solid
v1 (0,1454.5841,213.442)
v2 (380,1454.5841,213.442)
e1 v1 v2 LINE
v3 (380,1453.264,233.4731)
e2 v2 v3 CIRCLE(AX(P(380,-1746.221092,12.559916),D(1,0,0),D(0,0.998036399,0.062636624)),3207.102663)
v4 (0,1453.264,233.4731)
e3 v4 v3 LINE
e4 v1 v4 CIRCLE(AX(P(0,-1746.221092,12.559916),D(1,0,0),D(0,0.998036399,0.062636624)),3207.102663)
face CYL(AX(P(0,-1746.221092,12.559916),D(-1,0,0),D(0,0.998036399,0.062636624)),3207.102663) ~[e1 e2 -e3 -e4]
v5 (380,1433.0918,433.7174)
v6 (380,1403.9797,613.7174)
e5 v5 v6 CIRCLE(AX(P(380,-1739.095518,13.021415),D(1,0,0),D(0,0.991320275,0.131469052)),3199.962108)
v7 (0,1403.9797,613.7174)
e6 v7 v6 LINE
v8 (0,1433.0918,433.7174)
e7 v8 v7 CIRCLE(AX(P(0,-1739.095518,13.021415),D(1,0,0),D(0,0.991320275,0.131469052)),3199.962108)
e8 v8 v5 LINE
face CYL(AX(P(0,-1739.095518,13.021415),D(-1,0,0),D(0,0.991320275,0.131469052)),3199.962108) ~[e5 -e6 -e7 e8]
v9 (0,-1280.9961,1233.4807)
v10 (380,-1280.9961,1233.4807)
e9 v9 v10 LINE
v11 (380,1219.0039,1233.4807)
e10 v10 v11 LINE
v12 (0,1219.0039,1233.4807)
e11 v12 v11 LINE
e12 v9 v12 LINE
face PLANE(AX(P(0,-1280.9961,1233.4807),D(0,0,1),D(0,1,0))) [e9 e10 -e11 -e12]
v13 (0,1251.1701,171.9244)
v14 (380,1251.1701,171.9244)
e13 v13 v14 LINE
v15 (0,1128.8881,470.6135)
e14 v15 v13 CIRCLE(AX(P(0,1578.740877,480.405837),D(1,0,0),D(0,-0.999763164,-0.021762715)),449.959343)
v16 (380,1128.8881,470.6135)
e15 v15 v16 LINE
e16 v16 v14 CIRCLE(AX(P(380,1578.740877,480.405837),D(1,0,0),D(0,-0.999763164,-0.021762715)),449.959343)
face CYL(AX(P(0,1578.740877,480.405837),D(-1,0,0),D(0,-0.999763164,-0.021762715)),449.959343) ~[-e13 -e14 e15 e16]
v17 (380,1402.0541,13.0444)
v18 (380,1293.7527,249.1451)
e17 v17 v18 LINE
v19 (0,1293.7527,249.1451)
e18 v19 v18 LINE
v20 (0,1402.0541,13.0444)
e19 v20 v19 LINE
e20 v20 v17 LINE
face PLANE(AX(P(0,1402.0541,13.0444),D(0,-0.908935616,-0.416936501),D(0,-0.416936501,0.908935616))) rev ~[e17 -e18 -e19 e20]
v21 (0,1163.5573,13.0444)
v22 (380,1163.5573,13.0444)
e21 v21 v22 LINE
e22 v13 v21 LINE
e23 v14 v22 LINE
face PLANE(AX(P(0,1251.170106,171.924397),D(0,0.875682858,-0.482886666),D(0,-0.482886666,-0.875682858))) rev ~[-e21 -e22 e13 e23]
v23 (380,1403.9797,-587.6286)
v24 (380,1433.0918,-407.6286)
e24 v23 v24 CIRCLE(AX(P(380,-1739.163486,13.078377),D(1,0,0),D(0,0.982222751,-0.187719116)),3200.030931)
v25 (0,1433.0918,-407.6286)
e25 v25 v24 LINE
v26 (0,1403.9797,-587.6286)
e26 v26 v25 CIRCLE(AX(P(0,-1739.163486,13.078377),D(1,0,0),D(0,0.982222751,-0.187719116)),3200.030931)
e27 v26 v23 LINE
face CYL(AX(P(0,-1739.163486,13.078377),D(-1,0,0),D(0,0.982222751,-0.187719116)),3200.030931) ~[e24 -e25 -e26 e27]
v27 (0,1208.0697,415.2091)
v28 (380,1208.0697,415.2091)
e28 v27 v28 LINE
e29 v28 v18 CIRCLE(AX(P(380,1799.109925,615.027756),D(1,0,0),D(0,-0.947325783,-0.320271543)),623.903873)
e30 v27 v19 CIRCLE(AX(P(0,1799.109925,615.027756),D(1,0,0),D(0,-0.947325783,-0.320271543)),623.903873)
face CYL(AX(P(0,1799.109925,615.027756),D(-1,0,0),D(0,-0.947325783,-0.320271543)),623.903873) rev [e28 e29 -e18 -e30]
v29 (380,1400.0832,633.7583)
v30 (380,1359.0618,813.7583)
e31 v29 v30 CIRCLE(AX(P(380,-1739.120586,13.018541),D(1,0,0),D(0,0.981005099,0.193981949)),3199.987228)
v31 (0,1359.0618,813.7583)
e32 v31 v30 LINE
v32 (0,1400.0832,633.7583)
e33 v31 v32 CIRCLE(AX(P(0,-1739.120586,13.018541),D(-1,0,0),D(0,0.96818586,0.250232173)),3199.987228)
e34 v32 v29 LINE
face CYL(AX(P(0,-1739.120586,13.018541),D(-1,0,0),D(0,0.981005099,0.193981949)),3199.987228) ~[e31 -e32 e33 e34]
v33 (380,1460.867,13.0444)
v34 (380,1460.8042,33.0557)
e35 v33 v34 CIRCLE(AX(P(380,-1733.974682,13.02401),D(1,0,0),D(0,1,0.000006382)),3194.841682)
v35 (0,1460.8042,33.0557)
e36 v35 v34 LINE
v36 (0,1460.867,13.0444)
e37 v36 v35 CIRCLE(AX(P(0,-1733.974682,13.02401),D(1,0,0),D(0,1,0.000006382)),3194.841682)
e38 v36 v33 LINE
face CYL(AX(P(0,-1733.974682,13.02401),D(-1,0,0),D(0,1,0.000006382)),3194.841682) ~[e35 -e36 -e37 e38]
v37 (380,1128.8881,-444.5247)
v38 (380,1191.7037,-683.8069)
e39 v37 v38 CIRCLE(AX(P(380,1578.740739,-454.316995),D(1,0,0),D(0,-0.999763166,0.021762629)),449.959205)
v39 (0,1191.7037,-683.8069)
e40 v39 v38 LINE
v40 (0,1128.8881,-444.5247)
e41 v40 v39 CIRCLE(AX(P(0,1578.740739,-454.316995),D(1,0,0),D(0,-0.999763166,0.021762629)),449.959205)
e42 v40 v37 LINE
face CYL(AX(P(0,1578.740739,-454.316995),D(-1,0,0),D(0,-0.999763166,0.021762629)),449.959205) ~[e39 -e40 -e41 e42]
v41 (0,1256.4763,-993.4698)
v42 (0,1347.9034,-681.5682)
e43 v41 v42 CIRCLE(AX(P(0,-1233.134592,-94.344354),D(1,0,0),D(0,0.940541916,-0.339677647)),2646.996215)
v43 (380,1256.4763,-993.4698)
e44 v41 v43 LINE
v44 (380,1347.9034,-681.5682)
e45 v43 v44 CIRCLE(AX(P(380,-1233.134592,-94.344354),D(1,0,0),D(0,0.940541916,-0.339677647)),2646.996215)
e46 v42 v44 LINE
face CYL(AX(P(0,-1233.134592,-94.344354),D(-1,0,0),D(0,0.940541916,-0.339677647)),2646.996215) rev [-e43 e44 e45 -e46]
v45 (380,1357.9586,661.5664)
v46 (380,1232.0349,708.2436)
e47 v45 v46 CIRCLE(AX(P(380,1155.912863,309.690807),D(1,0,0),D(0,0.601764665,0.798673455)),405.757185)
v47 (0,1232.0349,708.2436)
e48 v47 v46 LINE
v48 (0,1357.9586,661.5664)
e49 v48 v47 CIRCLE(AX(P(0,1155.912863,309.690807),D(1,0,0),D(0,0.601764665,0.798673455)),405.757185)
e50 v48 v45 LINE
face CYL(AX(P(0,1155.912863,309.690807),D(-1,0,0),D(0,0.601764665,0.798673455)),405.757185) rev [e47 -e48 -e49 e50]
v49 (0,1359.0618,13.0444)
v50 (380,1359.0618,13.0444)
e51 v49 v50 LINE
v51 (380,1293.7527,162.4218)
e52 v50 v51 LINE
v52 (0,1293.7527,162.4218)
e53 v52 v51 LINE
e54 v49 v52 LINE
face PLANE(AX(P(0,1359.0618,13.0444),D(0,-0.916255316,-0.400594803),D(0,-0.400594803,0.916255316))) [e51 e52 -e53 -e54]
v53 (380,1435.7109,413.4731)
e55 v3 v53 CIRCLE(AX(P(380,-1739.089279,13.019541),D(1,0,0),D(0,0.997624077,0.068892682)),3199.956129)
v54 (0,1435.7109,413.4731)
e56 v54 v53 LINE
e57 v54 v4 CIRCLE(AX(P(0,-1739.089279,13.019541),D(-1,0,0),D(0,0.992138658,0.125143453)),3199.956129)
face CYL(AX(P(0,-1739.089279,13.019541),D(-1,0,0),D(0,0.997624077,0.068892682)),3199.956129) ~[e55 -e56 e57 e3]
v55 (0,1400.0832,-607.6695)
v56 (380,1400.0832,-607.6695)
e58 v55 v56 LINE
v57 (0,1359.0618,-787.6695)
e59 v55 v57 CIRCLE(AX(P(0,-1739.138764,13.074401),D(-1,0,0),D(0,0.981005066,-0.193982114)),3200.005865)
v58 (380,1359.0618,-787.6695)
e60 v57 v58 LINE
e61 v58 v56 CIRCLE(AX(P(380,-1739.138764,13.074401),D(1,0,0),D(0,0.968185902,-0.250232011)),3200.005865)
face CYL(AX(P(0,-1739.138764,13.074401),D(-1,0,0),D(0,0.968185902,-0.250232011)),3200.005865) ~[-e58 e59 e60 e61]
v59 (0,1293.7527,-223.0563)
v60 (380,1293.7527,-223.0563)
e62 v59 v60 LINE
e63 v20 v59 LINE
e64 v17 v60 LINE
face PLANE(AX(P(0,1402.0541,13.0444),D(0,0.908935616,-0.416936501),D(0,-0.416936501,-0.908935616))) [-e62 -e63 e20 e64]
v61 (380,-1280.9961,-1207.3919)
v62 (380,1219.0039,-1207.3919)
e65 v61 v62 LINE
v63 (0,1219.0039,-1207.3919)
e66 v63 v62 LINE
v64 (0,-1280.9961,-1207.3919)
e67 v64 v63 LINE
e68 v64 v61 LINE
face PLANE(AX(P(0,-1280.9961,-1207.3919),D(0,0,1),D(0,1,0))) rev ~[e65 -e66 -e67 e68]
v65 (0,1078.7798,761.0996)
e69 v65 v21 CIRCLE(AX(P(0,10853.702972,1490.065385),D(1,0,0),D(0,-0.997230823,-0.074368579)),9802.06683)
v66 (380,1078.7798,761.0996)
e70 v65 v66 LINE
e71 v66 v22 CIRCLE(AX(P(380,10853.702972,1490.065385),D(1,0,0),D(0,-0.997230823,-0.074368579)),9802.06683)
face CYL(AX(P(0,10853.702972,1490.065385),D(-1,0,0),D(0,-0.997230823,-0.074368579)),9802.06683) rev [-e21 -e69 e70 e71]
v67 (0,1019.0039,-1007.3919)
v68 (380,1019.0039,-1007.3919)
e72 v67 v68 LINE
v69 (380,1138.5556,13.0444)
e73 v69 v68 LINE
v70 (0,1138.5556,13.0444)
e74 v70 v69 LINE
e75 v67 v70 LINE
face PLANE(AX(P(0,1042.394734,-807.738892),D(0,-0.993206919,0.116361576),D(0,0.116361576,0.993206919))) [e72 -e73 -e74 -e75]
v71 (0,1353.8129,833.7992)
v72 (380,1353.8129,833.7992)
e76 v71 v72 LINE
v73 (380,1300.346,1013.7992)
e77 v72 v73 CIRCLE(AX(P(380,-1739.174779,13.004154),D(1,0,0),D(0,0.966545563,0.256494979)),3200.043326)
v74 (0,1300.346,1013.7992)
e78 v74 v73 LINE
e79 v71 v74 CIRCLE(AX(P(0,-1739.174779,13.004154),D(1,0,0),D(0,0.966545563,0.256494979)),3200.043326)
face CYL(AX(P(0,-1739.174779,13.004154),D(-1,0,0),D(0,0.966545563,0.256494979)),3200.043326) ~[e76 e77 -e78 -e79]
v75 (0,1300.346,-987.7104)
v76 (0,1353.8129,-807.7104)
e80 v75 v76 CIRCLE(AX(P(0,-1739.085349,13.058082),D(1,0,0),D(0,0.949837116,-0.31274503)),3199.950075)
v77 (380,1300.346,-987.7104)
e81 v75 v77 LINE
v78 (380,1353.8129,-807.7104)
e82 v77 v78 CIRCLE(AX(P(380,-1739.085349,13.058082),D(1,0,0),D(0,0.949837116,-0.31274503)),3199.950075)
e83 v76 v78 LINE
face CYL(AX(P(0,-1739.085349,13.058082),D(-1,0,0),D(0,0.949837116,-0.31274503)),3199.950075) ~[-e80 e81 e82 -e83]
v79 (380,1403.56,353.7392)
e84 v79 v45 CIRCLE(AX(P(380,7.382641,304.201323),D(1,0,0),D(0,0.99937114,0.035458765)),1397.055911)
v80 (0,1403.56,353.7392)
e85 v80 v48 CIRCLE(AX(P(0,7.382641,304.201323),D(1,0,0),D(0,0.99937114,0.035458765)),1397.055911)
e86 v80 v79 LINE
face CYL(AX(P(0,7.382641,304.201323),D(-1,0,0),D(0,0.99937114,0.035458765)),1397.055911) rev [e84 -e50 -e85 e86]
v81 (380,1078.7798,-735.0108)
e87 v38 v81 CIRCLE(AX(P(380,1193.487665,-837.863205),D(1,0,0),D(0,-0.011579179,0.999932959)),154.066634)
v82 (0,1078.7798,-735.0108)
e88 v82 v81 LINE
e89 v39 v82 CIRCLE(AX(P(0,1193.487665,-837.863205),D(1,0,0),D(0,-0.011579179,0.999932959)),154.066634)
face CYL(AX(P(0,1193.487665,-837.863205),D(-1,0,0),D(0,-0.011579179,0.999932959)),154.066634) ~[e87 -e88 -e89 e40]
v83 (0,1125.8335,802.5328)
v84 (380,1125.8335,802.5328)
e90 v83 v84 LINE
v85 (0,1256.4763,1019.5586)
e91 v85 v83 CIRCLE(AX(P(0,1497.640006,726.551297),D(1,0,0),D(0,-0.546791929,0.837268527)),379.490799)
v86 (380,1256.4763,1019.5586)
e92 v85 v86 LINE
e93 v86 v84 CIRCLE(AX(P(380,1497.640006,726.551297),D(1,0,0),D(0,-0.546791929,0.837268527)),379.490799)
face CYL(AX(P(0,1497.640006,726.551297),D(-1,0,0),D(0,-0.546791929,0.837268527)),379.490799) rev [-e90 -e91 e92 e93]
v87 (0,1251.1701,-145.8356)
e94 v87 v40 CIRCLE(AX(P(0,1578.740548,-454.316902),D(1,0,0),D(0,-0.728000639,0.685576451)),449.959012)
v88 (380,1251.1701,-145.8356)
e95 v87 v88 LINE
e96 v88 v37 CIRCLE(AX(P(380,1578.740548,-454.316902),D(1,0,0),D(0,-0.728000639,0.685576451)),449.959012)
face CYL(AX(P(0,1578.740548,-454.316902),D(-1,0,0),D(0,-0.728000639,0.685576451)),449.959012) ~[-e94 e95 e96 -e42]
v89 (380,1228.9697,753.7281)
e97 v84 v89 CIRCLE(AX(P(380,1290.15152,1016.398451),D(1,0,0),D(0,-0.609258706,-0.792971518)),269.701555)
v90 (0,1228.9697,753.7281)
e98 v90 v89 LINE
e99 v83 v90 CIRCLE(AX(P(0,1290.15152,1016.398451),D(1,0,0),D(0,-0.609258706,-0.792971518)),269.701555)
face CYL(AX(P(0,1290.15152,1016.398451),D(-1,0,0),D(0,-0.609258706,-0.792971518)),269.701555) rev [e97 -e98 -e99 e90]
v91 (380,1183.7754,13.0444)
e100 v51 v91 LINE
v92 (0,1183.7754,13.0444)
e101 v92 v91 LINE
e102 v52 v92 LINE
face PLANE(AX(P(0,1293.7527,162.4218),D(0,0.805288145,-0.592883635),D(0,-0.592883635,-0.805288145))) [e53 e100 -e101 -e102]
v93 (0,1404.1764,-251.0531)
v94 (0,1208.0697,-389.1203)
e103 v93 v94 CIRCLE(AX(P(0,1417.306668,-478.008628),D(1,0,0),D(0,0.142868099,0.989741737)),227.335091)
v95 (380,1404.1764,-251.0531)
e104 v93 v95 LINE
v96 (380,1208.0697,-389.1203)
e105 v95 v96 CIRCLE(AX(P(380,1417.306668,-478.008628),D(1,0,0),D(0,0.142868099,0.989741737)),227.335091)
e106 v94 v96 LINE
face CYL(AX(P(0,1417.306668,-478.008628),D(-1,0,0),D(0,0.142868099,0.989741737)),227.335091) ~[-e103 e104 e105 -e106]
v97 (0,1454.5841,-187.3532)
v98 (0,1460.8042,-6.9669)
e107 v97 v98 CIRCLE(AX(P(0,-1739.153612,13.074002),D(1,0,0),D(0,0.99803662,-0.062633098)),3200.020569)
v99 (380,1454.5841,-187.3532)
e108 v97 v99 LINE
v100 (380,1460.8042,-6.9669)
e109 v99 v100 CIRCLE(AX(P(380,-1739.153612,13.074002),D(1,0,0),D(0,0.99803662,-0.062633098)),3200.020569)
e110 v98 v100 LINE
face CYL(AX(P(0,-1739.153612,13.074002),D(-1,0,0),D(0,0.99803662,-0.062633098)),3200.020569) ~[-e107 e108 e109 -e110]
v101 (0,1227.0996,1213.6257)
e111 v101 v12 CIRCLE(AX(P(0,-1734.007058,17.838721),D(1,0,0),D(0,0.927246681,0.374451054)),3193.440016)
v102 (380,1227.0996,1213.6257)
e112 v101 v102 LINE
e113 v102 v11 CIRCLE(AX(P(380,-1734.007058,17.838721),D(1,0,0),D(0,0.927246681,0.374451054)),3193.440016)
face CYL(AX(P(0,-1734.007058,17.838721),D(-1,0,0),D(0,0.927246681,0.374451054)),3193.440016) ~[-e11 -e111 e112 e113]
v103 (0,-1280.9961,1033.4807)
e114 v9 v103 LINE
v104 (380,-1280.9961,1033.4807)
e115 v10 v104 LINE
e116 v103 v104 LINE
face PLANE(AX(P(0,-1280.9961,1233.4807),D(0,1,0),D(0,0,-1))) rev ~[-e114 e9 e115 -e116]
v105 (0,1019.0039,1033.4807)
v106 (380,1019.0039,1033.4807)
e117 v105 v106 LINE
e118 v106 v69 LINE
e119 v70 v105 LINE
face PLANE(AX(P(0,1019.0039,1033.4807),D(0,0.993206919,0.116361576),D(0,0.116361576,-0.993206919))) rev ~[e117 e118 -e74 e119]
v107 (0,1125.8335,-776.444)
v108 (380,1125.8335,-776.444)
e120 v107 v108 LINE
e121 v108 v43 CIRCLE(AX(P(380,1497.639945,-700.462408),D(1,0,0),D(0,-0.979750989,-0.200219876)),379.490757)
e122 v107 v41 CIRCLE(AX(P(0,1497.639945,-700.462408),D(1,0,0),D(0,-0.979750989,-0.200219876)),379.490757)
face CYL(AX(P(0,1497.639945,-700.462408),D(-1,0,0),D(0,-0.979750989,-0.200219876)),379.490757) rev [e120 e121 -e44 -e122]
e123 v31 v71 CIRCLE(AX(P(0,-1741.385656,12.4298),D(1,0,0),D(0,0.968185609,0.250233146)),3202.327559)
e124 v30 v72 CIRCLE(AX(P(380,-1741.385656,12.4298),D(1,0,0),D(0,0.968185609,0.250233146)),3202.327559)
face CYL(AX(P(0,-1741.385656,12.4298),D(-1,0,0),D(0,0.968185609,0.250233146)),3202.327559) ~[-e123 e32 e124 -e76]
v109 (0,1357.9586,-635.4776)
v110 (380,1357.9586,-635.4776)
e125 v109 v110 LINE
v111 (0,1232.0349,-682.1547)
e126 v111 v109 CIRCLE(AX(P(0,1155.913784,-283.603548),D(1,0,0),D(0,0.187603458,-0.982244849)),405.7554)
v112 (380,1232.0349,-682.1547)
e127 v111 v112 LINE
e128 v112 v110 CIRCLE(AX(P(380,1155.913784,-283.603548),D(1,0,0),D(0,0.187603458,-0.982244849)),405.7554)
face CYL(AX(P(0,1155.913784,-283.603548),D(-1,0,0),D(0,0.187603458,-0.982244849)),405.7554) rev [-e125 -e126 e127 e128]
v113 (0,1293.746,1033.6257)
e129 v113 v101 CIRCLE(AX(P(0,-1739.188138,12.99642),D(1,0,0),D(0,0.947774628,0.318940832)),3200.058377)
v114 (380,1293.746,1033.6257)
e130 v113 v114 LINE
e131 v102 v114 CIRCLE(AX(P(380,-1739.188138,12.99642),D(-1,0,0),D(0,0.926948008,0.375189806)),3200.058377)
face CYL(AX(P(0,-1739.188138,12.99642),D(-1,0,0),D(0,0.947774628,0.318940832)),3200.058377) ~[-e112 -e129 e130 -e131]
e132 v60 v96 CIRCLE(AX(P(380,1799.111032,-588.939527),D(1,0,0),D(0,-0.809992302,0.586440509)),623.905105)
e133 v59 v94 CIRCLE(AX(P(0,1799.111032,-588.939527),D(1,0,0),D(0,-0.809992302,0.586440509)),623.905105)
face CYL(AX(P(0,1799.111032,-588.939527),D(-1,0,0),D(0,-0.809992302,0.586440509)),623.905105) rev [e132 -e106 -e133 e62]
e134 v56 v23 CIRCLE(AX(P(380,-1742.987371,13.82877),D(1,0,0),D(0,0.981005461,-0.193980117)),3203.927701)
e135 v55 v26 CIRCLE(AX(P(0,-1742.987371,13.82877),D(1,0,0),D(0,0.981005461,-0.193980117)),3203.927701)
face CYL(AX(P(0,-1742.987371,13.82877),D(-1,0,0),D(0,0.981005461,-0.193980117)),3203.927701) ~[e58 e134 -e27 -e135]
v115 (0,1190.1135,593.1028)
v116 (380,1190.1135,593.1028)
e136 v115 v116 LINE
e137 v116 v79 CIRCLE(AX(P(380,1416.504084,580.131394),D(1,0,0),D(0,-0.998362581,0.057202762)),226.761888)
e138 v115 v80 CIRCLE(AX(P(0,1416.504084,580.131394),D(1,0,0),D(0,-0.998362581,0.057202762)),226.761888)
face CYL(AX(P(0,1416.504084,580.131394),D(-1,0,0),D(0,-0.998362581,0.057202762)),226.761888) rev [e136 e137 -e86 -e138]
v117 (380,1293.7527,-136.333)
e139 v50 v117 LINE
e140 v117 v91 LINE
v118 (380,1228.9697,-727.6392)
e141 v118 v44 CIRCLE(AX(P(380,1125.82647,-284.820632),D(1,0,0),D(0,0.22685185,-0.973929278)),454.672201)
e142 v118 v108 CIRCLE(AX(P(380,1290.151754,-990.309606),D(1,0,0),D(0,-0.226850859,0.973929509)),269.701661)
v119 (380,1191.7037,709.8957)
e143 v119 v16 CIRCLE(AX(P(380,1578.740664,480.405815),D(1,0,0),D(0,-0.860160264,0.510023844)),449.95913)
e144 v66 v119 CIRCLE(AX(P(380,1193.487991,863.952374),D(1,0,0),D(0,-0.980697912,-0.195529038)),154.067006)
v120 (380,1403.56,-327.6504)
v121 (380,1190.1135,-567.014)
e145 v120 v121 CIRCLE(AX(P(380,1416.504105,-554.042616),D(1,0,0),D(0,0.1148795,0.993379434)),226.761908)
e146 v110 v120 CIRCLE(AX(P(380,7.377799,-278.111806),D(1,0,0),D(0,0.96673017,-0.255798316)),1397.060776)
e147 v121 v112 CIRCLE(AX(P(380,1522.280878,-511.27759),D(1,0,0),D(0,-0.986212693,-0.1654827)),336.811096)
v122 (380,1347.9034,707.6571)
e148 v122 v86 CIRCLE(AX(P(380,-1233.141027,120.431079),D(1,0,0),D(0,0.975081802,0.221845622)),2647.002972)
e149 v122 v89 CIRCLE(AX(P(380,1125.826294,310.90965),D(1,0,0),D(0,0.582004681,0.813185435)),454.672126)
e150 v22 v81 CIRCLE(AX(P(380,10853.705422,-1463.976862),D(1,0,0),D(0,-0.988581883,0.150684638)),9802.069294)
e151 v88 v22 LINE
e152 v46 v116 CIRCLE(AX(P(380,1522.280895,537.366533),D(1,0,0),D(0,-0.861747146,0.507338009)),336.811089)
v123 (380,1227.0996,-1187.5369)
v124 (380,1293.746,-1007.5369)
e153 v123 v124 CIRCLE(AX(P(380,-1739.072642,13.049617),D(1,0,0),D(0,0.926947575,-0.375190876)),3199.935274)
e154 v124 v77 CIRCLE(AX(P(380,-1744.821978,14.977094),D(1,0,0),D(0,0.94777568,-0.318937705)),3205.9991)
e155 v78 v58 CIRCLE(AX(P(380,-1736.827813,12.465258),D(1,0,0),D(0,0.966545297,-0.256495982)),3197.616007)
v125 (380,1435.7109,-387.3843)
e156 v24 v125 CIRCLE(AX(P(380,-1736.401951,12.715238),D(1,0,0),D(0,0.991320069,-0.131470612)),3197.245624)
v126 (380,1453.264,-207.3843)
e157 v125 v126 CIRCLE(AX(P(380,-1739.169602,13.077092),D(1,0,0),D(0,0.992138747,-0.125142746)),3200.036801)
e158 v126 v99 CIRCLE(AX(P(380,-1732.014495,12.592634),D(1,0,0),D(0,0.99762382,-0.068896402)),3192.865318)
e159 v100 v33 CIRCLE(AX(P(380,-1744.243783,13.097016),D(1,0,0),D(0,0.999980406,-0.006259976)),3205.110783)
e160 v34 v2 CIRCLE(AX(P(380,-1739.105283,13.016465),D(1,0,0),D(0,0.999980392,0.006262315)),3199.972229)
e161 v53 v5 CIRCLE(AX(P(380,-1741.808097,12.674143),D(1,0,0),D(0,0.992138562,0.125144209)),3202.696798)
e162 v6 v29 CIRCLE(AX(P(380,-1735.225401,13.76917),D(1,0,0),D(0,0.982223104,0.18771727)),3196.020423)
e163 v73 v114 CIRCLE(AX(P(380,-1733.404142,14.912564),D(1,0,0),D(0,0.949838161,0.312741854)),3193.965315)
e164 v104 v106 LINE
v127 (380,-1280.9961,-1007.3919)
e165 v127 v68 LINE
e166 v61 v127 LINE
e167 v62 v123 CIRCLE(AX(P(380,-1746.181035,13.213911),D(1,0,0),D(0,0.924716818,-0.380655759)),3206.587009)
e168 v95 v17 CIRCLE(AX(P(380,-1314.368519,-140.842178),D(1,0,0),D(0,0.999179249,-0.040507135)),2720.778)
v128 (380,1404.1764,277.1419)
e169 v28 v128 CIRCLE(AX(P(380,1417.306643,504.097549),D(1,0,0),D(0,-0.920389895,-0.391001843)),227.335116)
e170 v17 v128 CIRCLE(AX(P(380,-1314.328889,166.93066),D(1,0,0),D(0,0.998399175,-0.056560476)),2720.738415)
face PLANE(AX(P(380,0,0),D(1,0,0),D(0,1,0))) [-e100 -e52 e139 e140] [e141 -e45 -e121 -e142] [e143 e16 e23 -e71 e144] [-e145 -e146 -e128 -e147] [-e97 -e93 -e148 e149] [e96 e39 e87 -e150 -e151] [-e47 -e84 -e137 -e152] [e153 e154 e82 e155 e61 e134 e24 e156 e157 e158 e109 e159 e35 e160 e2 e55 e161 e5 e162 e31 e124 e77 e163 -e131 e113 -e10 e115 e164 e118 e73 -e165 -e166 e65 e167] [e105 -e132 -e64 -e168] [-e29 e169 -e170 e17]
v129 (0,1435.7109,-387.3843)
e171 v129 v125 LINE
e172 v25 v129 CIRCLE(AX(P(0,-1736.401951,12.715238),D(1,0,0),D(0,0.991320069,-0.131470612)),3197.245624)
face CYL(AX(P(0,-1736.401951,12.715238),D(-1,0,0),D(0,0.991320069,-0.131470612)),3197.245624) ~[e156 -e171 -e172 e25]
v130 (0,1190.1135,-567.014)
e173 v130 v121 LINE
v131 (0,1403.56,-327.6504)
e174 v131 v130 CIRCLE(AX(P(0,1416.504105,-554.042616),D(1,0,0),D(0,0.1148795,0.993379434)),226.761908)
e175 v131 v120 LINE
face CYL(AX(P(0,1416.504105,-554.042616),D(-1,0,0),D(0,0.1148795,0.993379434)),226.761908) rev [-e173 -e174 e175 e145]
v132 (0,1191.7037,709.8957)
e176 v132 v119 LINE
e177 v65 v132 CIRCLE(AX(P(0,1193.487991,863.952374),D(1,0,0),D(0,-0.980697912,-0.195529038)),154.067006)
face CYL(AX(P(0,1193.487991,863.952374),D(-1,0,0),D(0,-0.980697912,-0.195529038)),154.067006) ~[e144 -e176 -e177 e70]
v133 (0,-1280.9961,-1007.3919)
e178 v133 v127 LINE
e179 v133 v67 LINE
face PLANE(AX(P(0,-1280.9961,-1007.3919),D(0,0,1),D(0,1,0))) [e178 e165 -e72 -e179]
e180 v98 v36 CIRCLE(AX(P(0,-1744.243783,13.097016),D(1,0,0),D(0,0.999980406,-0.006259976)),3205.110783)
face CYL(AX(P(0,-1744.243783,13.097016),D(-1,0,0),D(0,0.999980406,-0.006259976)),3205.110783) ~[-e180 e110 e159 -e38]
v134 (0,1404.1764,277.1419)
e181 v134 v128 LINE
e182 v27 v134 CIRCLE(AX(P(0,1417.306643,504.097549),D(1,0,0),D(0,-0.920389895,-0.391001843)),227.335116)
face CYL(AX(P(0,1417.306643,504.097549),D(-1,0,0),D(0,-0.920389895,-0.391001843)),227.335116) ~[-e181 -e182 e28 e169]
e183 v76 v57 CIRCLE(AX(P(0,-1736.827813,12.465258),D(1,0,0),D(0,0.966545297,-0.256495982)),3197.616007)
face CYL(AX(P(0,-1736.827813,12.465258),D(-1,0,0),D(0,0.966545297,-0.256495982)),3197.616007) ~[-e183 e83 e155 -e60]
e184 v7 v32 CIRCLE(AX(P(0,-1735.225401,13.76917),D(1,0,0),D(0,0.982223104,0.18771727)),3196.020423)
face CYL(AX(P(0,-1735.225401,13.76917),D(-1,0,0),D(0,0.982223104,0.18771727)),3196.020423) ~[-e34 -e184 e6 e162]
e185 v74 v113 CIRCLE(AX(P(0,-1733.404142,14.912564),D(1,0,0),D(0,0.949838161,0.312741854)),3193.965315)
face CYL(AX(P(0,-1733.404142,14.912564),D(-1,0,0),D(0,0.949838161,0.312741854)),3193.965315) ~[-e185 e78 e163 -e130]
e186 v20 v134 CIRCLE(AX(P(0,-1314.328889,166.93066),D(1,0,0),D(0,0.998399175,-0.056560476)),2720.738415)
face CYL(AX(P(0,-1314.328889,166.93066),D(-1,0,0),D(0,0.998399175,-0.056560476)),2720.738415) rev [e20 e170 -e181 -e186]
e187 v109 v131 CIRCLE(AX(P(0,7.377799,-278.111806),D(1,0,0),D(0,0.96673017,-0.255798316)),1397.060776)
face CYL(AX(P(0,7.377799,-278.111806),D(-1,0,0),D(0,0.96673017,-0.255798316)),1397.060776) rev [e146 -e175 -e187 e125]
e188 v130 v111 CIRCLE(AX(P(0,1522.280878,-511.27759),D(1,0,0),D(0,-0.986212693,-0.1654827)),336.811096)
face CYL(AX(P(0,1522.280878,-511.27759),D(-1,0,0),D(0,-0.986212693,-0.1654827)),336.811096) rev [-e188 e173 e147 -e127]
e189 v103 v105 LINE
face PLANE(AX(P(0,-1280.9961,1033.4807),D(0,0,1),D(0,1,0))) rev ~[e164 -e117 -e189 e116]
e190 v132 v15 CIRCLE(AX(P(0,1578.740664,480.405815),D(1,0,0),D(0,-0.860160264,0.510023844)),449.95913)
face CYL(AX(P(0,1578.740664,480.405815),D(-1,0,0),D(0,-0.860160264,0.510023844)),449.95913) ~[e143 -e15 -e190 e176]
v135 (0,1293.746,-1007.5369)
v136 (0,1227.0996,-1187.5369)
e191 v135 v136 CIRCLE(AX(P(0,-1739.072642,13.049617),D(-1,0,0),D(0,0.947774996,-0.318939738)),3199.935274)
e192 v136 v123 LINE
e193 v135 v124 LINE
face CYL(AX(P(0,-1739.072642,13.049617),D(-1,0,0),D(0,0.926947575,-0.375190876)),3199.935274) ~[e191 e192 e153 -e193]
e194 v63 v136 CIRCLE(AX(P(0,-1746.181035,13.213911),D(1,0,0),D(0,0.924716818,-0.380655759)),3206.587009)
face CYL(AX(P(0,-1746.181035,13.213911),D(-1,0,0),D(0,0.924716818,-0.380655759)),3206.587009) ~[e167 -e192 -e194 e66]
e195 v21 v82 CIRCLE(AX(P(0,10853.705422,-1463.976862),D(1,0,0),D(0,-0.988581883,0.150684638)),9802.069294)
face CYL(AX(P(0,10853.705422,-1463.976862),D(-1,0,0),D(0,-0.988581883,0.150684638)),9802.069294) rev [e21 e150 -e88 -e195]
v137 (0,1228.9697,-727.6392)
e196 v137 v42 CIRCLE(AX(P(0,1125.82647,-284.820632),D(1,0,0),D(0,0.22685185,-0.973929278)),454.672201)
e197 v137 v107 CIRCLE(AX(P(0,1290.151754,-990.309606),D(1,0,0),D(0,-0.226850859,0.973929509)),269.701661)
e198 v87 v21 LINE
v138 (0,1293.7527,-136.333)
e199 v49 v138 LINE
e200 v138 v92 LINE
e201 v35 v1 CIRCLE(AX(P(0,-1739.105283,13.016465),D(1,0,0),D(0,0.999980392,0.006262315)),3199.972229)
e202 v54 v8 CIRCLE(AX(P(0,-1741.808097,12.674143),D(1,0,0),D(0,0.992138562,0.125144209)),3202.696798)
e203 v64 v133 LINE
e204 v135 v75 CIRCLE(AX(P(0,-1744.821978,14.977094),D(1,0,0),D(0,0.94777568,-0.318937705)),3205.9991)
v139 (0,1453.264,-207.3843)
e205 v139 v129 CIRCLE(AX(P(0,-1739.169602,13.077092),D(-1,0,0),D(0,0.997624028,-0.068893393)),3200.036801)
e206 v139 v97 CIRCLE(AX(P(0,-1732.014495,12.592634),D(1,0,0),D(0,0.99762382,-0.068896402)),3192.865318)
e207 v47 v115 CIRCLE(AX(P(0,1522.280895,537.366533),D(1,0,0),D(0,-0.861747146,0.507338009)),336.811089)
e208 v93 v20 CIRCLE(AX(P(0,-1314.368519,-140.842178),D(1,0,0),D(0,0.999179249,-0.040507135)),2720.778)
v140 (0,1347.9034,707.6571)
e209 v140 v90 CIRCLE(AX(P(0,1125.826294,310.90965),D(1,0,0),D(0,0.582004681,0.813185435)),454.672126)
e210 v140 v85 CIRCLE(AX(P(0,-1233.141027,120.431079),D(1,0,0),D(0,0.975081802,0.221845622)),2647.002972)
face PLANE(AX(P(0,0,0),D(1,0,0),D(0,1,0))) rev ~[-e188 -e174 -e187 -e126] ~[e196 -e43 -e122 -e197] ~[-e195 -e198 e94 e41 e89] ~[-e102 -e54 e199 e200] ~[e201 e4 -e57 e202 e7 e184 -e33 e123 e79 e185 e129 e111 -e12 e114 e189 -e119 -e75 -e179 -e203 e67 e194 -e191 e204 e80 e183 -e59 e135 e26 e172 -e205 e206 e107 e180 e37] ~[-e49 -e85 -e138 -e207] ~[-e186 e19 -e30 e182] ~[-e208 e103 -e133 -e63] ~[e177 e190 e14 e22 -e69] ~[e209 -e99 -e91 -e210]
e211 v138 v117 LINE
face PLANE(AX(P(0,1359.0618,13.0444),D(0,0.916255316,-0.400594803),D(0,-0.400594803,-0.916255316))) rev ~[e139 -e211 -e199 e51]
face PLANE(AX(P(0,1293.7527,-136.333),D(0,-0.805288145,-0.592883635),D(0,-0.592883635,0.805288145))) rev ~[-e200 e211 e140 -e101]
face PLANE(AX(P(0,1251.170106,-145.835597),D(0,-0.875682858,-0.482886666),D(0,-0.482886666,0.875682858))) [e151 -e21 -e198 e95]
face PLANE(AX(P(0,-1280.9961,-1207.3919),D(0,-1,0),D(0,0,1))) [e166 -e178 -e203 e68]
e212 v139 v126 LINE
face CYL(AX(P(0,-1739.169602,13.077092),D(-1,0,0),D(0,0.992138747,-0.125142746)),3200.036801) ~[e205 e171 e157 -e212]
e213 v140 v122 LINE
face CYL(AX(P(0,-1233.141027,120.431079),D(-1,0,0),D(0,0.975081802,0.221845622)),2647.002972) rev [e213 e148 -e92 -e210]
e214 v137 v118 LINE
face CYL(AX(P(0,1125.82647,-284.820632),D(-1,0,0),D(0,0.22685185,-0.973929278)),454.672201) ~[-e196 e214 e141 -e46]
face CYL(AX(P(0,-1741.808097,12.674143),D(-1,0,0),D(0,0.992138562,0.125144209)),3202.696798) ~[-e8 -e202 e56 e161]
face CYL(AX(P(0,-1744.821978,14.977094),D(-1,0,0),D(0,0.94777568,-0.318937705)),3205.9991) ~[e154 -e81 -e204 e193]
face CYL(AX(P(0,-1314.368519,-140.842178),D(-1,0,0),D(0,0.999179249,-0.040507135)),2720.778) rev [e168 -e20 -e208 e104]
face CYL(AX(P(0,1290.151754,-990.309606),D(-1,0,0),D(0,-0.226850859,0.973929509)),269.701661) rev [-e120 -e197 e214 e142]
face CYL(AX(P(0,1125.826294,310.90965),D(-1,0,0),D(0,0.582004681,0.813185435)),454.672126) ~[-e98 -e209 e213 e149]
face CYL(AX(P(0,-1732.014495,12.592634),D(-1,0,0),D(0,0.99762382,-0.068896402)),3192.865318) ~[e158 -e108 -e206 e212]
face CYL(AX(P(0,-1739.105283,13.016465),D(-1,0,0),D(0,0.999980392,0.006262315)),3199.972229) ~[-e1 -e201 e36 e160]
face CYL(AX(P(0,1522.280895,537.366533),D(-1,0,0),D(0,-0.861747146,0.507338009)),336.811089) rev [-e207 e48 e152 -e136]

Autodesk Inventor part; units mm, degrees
ref_plane "YZ Plane" through (0, 0, 0) normal (1, 0, 0) x (0, 1, 0)
ref_plane "XZ Plane" through (0, 0, 0) normal (0, 1, 0) x (-1, 0, 0)
ref_plane "XY Plane" through (0, 0, 0) normal (0, 0, 1) x (1, 0, 0)
sketch "Sketch1" plane through (0, 0, 0) normal (1, 0, 0) x (0, 1, 0)
  arc A0 (1227.0996, 1213.6257) -> (1219.0039, 1233.4807) centre (-1740.0857, 15.3721) ccw
  arc A1 (1293.746, 1033.6257) -> (1227.0996, 1213.6257) centre (-1739.133, 13.0159) ccw
  arc A2 (1300.346, 1013.7992) -> (1293.746, 1033.6257) centre (-1739.133, 13.0159) ccw
  arc A3 (1353.8129, 833.7992) -> (1300.346, 1013.7992) centre (-1739.133, 13.0159) ccw
  arc A4 (1359.0618, 813.7583) -> (1353.8129, 833.7992) centre (-1739.133, 13.0159) ccw
  arc A5 (1400.0832, 633.7583) -> (1359.0618, 813.7583) centre (-1739.133, 13.0159) ccw
  arc A6 (1403.9797, 613.7174) -> (1400.0832, 633.7583) centre (-1739.133, 13.0159) ccw
  arc A7 (1433.0918, 433.7174) -> (1403.9797, 613.7174) centre (-1739.133, 13.0159) ccw
  arc A8 (1453.264, 233.4731) -> (1435.7109, 413.4731) centre (-1739.133, 13.0159) ccw
  arc A9 (1435.7109, 413.4731) -> (1433.0918, 433.7174) centre (-1739.133, 13.0159) ccw
  arc A10 (1454.5841, 213.442) -> (1453.264, 233.4731) centre (-1739.133, 13.0159) ccw
  arc A11 (1460.8042, 33.0557) -> (1454.5841, 213.442) centre (-1739.133, 13.0159) ccw
  arc A12 (1460.867, 13.0444) -> (1460.8042, 33.0557) centre (-1739.133, 13.0159) ccw
  line L0 (-1280.9961, 1233.4807) -> (1219.0039, 1233.4807)
  line L1 (-1280.9961, 1233.4807) -> (-1280.9961, 1033.4807)
  line L2 (-1280.9961, 1033.4807) -> (1019.0039, 1033.4807)
  line L3 (1019.0039, 1033.4807) -> (1138.5556, 13.0444)
  line L4 (1460.867, 13.0444) -> (1469.3401, 13.0444)
  line L5 (1402.0541, 13.0444) -> (1293.7527, 249.1451)
  line L6 (1293.7527, 249.1451) -> (1163.5573, 13.0444)
  arc A13 (1208.0697, 415.2091) -> (1293.7527, 249.1451) centre (1799.1105, 615.028) ccw
  arc A14 (1232.0349, 708.2436) -> (1190.1135, 593.1028) centre (1522.2816, 537.3662) ccw
  arc A15 (1128.8881, 470.6135) -> (1251.1701, 171.9244) centre (1578.7407, 480.4058) ccw
  arc A16 (1191.7037, 709.8957) -> (1128.8881, 470.6135) centre (1578.7407, 480.4058) ccw
  arc A17 (1042.3948, 833.8278) -> (1191.7037, 709.8957) centre (1193.4877, 863.9522) ccw
  arc A18 (1400.0832, 633.7583) -> (1232.0349, 708.2436) centre (1155.9138, 309.6924) ccw
  arc A19 (1390.4476, 680.6424) -> (1228.9697, 753.7281) centre (1125.8269, 310.9107) ccw
  arc A20 (1190.1135, 593.1028) -> (1442.5544, 354.8708) centre (1416.5041, 580.1314) ccw
  arc A21 (1208.0697, 415.2091) -> (1449.7856, 279.0945) centre (1417.3067, 504.0976) ccw
  arc A22 (1290.1375, 1044.287) -> (1125.8335, 802.5328) centre (1497.6402, 726.5511) ccw
  arc A23 (1260.8526, 1126.6075) -> (1078.7798, 848.8845) centre (1573.2668, 723.2474) ccw
  arc A24 (1028.8129, 949.7563) -> (1078.7798, 848.8845) centre (1290.1521, 1016.3994) ccw
  arc A25 (1125.8335, 802.5328) -> (1228.9697, 753.7281) centre (1290.1521, 1016.3994) ccw
  line L7 (1359.0618, 13.0444) -> (1293.7527, 162.4218)
  line L8 (1293.7527, 162.4218) -> (1183.7754, 13.0444)
  line L9 (1460.867, 13.0444) -> (1635.1821, 13.0444)
  arc A26 (1219.0039, -1207.3919) -> (1227.0996, -1187.5369) centre (-1740.0857, 10.7167) ccw
  arc A27 (1227.0996, -1187.5369) -> (1293.746, -1007.5369) centre (-1739.133, 13.073) ccw
  arc A28 (1293.746, -1007.5369) -> (1300.346, -987.7104) centre (-1739.133, 13.073) ccw
  arc A29 (1300.346, -987.7104) -> (1353.8129, -807.7104) centre (-1739.133, 13.073) ccw
  arc A30 (1353.8129, -807.7104) -> (1359.0618, -787.6695) centre (-1739.133, 13.073) ccw
  arc A31 (1359.0618, -787.6695) -> (1400.0832, -607.6695) centre (-1739.133, 13.073) ccw
  arc A32 (1400.0832, -607.6695) -> (1403.9797, -587.6286) centre (-1739.133, 13.073) ccw
  arc A33 (1403.9797, -587.6286) -> (1433.0918, -407.6286) centre (-1739.133, 13.073) ccw
  arc A34 (1435.7109, -387.3843) -> (1453.264, -207.3843) centre (-1739.133, 13.073) ccw
  arc A35 (1433.0918, -407.6286) -> (1435.7109, -387.3843) centre (-1739.133, 13.073) ccw
  arc A36 (1453.264, -207.3843) -> (1454.5841, -187.3532) centre (-1739.133, 13.073) ccw
  arc A37 (1454.5841, -187.3532) -> (1460.8042, -6.9669) centre (-1739.133, 13.073) ccw
  arc A38 (1460.8042, -6.9669) -> (1460.867, 13.0444) centre (-1739.133, 13.073) ccw
  line L10 (-1280.9961, -1207.3919) -> (1219.0039, -1207.3919)
  line L11 (-1280.9961, -1207.3919) -> (-1280.9961, -1007.3919)
  line L12 (-1280.9961, -1007.3919) -> (1019.0039, -1007.3919)
  line L13 (1019.0039, -1007.3919) -> (1138.5556, 13.0444)
  line L14 (1402.0541, 13.0444) -> (1293.7527, -223.0563)
  line L15 (1293.7527, -223.0563) -> (1163.5573, 13.0444)
  arc A39 (1293.7527, -223.0563) -> (1208.0697, -389.1203) centre (1799.1105, -588.9392) ccw
  arc A40 (1190.1135, -567.014) -> (1232.0349, -682.1547) centre (1522.2816, -511.2774) ccw
  arc A41 (1251.1701, -145.8356) -> (1128.8881, -444.5247) centre (1578.7407, -454.317) ccw
  arc A42 (1128.8881, -444.5247) -> (1191.7037, -683.8069) centre (1578.7407, -454.317) ccw
  arc A43 (1191.7037, -683.8069) -> (1042.3948, -807.7389) centre (1193.4877, -837.8633) ccw
  arc A44 (1232.0349, -682.1547) -> (1400.0832, -607.6695) centre (1155.9138, -283.6036) ccw
  arc A45 (1228.9697, -727.6392) -> (1390.4476, -654.5536) centre (1125.8269, -284.8219) ccw
  arc A46 (1442.5544, -328.782) -> (1190.1135, -567.014) centre (1416.5041, -554.0426) ccw
  arc A47 (1449.7856, -253.0056) -> (1208.0697, -389.1203) centre (1417.3067, -478.0088) ccw
  arc A48 (1125.8335, -776.444) -> (1290.1375, -1018.1981) centre (1497.6402, -700.4623) ccw
  arc A49 (1078.7798, -822.7957) -> (1260.8526, -1100.5187) centre (1573.2668, -697.1585) ccw
  arc A50 (1078.7798, -822.7957) -> (1028.8129, -923.6674) centre (1290.1521, -990.3106) ccw
  arc A51 (1228.9697, -727.6392) -> (1125.8335, -776.444) centre (1290.1521, -990.3106) ccw
  line L16 (1359.0618, 13.0444) -> (1293.7527, -136.333)
  line L17 (1293.7527, -136.333) -> (1183.7754, 13.0444)
  arc A52 (1078.7798, 761.0996) -> (1163.5573, 13.0444) centre (10853.7042, 1490.0655) ccw
  arc A53 (1347.9034, 707.6571) -> (1256.4763, 1019.5586) centre (-1233.1421, 120.4308) ccw
  arc A54 (1403.56, 353.7392) -> (1357.9586, 661.5664) centre (7.3802, 304.2011) ccw
  arc A55 (1402.0541, 13.0444) -> (1404.1764, 277.1419) centre (-1314.3487, 166.9313) ccw
  arc A56 (1163.5573, 13.0444) -> (1078.7798, -735.0108) centre (10853.7042, -1463.9767) ccw
  arc A57 (1256.4763, -993.4698) -> (1347.9034, -681.5682) centre (-1233.1421, -94.3419) ccw
  arc A58 (1357.9586, -635.4776) -> (1403.56, -327.6504) centre (7.3802, -278.1123) ccw
  arc A59 (1404.1764, -251.0531) -> (1402.0541, 13.0444) centre (-1314.3487, -140.8425) ccw
  point P0 (0, 0)
  point P1 (1183.7754, 13.0444)
  point P2 (1359.0618, 13.0444)
  point P3 (1402.0541, 13.0444)
  point P4 (1163.5573, 13.0444)
  point P5 (1078.7798, -735.0108)
  point P6 (1163.5573, 13.0444)
  point P7 (1138.5556, 13.0444)
  point P8 (1347.9034, -681.5682)
  point P9 (1256.4763, -993.4698)
  point P10 (1403.56, -327.6504)
  point P11 (1402.0541, 13.0444)
  point P12 (1404.1764, -251.0531)
  dimension "d0" = 200
  dimension "d1" = 2300
extrude "Extrusion1" add sketch "Sketch1" along normal blind 380 contours A1 A23 A24 L3 L2 L1 L0 A0 | A1 A22 A25 A19 A5 A18 A14 A20 A8 A21 A13 L6 A15 A16 A17 L3 A24 A23 | A1 A2 A3 A4 A5 A19 A53 A22 | A17 A52 A56 A43 L13 L3 | A6 A7 A9 A8 A20 A54 A18 | A43 A42 A41 L15 A39 A47 A34 A46 A40 A44 A31 A45 A51 A48 A27 A49 A50 L13 | L6 L5 L14 L15 | A50 A49 A27 A26 L10 L11 L12 L13 | A55 A21 A8 A10 A11 A12 A38 A37 A36 A34 A47 A59 | A48 A57 A45 A31 A30 A29 A28 A27 | A34 A35 A33 A32 A44 A58 A46
properties part number "side_door_frame" material "Wood (Maple)"
